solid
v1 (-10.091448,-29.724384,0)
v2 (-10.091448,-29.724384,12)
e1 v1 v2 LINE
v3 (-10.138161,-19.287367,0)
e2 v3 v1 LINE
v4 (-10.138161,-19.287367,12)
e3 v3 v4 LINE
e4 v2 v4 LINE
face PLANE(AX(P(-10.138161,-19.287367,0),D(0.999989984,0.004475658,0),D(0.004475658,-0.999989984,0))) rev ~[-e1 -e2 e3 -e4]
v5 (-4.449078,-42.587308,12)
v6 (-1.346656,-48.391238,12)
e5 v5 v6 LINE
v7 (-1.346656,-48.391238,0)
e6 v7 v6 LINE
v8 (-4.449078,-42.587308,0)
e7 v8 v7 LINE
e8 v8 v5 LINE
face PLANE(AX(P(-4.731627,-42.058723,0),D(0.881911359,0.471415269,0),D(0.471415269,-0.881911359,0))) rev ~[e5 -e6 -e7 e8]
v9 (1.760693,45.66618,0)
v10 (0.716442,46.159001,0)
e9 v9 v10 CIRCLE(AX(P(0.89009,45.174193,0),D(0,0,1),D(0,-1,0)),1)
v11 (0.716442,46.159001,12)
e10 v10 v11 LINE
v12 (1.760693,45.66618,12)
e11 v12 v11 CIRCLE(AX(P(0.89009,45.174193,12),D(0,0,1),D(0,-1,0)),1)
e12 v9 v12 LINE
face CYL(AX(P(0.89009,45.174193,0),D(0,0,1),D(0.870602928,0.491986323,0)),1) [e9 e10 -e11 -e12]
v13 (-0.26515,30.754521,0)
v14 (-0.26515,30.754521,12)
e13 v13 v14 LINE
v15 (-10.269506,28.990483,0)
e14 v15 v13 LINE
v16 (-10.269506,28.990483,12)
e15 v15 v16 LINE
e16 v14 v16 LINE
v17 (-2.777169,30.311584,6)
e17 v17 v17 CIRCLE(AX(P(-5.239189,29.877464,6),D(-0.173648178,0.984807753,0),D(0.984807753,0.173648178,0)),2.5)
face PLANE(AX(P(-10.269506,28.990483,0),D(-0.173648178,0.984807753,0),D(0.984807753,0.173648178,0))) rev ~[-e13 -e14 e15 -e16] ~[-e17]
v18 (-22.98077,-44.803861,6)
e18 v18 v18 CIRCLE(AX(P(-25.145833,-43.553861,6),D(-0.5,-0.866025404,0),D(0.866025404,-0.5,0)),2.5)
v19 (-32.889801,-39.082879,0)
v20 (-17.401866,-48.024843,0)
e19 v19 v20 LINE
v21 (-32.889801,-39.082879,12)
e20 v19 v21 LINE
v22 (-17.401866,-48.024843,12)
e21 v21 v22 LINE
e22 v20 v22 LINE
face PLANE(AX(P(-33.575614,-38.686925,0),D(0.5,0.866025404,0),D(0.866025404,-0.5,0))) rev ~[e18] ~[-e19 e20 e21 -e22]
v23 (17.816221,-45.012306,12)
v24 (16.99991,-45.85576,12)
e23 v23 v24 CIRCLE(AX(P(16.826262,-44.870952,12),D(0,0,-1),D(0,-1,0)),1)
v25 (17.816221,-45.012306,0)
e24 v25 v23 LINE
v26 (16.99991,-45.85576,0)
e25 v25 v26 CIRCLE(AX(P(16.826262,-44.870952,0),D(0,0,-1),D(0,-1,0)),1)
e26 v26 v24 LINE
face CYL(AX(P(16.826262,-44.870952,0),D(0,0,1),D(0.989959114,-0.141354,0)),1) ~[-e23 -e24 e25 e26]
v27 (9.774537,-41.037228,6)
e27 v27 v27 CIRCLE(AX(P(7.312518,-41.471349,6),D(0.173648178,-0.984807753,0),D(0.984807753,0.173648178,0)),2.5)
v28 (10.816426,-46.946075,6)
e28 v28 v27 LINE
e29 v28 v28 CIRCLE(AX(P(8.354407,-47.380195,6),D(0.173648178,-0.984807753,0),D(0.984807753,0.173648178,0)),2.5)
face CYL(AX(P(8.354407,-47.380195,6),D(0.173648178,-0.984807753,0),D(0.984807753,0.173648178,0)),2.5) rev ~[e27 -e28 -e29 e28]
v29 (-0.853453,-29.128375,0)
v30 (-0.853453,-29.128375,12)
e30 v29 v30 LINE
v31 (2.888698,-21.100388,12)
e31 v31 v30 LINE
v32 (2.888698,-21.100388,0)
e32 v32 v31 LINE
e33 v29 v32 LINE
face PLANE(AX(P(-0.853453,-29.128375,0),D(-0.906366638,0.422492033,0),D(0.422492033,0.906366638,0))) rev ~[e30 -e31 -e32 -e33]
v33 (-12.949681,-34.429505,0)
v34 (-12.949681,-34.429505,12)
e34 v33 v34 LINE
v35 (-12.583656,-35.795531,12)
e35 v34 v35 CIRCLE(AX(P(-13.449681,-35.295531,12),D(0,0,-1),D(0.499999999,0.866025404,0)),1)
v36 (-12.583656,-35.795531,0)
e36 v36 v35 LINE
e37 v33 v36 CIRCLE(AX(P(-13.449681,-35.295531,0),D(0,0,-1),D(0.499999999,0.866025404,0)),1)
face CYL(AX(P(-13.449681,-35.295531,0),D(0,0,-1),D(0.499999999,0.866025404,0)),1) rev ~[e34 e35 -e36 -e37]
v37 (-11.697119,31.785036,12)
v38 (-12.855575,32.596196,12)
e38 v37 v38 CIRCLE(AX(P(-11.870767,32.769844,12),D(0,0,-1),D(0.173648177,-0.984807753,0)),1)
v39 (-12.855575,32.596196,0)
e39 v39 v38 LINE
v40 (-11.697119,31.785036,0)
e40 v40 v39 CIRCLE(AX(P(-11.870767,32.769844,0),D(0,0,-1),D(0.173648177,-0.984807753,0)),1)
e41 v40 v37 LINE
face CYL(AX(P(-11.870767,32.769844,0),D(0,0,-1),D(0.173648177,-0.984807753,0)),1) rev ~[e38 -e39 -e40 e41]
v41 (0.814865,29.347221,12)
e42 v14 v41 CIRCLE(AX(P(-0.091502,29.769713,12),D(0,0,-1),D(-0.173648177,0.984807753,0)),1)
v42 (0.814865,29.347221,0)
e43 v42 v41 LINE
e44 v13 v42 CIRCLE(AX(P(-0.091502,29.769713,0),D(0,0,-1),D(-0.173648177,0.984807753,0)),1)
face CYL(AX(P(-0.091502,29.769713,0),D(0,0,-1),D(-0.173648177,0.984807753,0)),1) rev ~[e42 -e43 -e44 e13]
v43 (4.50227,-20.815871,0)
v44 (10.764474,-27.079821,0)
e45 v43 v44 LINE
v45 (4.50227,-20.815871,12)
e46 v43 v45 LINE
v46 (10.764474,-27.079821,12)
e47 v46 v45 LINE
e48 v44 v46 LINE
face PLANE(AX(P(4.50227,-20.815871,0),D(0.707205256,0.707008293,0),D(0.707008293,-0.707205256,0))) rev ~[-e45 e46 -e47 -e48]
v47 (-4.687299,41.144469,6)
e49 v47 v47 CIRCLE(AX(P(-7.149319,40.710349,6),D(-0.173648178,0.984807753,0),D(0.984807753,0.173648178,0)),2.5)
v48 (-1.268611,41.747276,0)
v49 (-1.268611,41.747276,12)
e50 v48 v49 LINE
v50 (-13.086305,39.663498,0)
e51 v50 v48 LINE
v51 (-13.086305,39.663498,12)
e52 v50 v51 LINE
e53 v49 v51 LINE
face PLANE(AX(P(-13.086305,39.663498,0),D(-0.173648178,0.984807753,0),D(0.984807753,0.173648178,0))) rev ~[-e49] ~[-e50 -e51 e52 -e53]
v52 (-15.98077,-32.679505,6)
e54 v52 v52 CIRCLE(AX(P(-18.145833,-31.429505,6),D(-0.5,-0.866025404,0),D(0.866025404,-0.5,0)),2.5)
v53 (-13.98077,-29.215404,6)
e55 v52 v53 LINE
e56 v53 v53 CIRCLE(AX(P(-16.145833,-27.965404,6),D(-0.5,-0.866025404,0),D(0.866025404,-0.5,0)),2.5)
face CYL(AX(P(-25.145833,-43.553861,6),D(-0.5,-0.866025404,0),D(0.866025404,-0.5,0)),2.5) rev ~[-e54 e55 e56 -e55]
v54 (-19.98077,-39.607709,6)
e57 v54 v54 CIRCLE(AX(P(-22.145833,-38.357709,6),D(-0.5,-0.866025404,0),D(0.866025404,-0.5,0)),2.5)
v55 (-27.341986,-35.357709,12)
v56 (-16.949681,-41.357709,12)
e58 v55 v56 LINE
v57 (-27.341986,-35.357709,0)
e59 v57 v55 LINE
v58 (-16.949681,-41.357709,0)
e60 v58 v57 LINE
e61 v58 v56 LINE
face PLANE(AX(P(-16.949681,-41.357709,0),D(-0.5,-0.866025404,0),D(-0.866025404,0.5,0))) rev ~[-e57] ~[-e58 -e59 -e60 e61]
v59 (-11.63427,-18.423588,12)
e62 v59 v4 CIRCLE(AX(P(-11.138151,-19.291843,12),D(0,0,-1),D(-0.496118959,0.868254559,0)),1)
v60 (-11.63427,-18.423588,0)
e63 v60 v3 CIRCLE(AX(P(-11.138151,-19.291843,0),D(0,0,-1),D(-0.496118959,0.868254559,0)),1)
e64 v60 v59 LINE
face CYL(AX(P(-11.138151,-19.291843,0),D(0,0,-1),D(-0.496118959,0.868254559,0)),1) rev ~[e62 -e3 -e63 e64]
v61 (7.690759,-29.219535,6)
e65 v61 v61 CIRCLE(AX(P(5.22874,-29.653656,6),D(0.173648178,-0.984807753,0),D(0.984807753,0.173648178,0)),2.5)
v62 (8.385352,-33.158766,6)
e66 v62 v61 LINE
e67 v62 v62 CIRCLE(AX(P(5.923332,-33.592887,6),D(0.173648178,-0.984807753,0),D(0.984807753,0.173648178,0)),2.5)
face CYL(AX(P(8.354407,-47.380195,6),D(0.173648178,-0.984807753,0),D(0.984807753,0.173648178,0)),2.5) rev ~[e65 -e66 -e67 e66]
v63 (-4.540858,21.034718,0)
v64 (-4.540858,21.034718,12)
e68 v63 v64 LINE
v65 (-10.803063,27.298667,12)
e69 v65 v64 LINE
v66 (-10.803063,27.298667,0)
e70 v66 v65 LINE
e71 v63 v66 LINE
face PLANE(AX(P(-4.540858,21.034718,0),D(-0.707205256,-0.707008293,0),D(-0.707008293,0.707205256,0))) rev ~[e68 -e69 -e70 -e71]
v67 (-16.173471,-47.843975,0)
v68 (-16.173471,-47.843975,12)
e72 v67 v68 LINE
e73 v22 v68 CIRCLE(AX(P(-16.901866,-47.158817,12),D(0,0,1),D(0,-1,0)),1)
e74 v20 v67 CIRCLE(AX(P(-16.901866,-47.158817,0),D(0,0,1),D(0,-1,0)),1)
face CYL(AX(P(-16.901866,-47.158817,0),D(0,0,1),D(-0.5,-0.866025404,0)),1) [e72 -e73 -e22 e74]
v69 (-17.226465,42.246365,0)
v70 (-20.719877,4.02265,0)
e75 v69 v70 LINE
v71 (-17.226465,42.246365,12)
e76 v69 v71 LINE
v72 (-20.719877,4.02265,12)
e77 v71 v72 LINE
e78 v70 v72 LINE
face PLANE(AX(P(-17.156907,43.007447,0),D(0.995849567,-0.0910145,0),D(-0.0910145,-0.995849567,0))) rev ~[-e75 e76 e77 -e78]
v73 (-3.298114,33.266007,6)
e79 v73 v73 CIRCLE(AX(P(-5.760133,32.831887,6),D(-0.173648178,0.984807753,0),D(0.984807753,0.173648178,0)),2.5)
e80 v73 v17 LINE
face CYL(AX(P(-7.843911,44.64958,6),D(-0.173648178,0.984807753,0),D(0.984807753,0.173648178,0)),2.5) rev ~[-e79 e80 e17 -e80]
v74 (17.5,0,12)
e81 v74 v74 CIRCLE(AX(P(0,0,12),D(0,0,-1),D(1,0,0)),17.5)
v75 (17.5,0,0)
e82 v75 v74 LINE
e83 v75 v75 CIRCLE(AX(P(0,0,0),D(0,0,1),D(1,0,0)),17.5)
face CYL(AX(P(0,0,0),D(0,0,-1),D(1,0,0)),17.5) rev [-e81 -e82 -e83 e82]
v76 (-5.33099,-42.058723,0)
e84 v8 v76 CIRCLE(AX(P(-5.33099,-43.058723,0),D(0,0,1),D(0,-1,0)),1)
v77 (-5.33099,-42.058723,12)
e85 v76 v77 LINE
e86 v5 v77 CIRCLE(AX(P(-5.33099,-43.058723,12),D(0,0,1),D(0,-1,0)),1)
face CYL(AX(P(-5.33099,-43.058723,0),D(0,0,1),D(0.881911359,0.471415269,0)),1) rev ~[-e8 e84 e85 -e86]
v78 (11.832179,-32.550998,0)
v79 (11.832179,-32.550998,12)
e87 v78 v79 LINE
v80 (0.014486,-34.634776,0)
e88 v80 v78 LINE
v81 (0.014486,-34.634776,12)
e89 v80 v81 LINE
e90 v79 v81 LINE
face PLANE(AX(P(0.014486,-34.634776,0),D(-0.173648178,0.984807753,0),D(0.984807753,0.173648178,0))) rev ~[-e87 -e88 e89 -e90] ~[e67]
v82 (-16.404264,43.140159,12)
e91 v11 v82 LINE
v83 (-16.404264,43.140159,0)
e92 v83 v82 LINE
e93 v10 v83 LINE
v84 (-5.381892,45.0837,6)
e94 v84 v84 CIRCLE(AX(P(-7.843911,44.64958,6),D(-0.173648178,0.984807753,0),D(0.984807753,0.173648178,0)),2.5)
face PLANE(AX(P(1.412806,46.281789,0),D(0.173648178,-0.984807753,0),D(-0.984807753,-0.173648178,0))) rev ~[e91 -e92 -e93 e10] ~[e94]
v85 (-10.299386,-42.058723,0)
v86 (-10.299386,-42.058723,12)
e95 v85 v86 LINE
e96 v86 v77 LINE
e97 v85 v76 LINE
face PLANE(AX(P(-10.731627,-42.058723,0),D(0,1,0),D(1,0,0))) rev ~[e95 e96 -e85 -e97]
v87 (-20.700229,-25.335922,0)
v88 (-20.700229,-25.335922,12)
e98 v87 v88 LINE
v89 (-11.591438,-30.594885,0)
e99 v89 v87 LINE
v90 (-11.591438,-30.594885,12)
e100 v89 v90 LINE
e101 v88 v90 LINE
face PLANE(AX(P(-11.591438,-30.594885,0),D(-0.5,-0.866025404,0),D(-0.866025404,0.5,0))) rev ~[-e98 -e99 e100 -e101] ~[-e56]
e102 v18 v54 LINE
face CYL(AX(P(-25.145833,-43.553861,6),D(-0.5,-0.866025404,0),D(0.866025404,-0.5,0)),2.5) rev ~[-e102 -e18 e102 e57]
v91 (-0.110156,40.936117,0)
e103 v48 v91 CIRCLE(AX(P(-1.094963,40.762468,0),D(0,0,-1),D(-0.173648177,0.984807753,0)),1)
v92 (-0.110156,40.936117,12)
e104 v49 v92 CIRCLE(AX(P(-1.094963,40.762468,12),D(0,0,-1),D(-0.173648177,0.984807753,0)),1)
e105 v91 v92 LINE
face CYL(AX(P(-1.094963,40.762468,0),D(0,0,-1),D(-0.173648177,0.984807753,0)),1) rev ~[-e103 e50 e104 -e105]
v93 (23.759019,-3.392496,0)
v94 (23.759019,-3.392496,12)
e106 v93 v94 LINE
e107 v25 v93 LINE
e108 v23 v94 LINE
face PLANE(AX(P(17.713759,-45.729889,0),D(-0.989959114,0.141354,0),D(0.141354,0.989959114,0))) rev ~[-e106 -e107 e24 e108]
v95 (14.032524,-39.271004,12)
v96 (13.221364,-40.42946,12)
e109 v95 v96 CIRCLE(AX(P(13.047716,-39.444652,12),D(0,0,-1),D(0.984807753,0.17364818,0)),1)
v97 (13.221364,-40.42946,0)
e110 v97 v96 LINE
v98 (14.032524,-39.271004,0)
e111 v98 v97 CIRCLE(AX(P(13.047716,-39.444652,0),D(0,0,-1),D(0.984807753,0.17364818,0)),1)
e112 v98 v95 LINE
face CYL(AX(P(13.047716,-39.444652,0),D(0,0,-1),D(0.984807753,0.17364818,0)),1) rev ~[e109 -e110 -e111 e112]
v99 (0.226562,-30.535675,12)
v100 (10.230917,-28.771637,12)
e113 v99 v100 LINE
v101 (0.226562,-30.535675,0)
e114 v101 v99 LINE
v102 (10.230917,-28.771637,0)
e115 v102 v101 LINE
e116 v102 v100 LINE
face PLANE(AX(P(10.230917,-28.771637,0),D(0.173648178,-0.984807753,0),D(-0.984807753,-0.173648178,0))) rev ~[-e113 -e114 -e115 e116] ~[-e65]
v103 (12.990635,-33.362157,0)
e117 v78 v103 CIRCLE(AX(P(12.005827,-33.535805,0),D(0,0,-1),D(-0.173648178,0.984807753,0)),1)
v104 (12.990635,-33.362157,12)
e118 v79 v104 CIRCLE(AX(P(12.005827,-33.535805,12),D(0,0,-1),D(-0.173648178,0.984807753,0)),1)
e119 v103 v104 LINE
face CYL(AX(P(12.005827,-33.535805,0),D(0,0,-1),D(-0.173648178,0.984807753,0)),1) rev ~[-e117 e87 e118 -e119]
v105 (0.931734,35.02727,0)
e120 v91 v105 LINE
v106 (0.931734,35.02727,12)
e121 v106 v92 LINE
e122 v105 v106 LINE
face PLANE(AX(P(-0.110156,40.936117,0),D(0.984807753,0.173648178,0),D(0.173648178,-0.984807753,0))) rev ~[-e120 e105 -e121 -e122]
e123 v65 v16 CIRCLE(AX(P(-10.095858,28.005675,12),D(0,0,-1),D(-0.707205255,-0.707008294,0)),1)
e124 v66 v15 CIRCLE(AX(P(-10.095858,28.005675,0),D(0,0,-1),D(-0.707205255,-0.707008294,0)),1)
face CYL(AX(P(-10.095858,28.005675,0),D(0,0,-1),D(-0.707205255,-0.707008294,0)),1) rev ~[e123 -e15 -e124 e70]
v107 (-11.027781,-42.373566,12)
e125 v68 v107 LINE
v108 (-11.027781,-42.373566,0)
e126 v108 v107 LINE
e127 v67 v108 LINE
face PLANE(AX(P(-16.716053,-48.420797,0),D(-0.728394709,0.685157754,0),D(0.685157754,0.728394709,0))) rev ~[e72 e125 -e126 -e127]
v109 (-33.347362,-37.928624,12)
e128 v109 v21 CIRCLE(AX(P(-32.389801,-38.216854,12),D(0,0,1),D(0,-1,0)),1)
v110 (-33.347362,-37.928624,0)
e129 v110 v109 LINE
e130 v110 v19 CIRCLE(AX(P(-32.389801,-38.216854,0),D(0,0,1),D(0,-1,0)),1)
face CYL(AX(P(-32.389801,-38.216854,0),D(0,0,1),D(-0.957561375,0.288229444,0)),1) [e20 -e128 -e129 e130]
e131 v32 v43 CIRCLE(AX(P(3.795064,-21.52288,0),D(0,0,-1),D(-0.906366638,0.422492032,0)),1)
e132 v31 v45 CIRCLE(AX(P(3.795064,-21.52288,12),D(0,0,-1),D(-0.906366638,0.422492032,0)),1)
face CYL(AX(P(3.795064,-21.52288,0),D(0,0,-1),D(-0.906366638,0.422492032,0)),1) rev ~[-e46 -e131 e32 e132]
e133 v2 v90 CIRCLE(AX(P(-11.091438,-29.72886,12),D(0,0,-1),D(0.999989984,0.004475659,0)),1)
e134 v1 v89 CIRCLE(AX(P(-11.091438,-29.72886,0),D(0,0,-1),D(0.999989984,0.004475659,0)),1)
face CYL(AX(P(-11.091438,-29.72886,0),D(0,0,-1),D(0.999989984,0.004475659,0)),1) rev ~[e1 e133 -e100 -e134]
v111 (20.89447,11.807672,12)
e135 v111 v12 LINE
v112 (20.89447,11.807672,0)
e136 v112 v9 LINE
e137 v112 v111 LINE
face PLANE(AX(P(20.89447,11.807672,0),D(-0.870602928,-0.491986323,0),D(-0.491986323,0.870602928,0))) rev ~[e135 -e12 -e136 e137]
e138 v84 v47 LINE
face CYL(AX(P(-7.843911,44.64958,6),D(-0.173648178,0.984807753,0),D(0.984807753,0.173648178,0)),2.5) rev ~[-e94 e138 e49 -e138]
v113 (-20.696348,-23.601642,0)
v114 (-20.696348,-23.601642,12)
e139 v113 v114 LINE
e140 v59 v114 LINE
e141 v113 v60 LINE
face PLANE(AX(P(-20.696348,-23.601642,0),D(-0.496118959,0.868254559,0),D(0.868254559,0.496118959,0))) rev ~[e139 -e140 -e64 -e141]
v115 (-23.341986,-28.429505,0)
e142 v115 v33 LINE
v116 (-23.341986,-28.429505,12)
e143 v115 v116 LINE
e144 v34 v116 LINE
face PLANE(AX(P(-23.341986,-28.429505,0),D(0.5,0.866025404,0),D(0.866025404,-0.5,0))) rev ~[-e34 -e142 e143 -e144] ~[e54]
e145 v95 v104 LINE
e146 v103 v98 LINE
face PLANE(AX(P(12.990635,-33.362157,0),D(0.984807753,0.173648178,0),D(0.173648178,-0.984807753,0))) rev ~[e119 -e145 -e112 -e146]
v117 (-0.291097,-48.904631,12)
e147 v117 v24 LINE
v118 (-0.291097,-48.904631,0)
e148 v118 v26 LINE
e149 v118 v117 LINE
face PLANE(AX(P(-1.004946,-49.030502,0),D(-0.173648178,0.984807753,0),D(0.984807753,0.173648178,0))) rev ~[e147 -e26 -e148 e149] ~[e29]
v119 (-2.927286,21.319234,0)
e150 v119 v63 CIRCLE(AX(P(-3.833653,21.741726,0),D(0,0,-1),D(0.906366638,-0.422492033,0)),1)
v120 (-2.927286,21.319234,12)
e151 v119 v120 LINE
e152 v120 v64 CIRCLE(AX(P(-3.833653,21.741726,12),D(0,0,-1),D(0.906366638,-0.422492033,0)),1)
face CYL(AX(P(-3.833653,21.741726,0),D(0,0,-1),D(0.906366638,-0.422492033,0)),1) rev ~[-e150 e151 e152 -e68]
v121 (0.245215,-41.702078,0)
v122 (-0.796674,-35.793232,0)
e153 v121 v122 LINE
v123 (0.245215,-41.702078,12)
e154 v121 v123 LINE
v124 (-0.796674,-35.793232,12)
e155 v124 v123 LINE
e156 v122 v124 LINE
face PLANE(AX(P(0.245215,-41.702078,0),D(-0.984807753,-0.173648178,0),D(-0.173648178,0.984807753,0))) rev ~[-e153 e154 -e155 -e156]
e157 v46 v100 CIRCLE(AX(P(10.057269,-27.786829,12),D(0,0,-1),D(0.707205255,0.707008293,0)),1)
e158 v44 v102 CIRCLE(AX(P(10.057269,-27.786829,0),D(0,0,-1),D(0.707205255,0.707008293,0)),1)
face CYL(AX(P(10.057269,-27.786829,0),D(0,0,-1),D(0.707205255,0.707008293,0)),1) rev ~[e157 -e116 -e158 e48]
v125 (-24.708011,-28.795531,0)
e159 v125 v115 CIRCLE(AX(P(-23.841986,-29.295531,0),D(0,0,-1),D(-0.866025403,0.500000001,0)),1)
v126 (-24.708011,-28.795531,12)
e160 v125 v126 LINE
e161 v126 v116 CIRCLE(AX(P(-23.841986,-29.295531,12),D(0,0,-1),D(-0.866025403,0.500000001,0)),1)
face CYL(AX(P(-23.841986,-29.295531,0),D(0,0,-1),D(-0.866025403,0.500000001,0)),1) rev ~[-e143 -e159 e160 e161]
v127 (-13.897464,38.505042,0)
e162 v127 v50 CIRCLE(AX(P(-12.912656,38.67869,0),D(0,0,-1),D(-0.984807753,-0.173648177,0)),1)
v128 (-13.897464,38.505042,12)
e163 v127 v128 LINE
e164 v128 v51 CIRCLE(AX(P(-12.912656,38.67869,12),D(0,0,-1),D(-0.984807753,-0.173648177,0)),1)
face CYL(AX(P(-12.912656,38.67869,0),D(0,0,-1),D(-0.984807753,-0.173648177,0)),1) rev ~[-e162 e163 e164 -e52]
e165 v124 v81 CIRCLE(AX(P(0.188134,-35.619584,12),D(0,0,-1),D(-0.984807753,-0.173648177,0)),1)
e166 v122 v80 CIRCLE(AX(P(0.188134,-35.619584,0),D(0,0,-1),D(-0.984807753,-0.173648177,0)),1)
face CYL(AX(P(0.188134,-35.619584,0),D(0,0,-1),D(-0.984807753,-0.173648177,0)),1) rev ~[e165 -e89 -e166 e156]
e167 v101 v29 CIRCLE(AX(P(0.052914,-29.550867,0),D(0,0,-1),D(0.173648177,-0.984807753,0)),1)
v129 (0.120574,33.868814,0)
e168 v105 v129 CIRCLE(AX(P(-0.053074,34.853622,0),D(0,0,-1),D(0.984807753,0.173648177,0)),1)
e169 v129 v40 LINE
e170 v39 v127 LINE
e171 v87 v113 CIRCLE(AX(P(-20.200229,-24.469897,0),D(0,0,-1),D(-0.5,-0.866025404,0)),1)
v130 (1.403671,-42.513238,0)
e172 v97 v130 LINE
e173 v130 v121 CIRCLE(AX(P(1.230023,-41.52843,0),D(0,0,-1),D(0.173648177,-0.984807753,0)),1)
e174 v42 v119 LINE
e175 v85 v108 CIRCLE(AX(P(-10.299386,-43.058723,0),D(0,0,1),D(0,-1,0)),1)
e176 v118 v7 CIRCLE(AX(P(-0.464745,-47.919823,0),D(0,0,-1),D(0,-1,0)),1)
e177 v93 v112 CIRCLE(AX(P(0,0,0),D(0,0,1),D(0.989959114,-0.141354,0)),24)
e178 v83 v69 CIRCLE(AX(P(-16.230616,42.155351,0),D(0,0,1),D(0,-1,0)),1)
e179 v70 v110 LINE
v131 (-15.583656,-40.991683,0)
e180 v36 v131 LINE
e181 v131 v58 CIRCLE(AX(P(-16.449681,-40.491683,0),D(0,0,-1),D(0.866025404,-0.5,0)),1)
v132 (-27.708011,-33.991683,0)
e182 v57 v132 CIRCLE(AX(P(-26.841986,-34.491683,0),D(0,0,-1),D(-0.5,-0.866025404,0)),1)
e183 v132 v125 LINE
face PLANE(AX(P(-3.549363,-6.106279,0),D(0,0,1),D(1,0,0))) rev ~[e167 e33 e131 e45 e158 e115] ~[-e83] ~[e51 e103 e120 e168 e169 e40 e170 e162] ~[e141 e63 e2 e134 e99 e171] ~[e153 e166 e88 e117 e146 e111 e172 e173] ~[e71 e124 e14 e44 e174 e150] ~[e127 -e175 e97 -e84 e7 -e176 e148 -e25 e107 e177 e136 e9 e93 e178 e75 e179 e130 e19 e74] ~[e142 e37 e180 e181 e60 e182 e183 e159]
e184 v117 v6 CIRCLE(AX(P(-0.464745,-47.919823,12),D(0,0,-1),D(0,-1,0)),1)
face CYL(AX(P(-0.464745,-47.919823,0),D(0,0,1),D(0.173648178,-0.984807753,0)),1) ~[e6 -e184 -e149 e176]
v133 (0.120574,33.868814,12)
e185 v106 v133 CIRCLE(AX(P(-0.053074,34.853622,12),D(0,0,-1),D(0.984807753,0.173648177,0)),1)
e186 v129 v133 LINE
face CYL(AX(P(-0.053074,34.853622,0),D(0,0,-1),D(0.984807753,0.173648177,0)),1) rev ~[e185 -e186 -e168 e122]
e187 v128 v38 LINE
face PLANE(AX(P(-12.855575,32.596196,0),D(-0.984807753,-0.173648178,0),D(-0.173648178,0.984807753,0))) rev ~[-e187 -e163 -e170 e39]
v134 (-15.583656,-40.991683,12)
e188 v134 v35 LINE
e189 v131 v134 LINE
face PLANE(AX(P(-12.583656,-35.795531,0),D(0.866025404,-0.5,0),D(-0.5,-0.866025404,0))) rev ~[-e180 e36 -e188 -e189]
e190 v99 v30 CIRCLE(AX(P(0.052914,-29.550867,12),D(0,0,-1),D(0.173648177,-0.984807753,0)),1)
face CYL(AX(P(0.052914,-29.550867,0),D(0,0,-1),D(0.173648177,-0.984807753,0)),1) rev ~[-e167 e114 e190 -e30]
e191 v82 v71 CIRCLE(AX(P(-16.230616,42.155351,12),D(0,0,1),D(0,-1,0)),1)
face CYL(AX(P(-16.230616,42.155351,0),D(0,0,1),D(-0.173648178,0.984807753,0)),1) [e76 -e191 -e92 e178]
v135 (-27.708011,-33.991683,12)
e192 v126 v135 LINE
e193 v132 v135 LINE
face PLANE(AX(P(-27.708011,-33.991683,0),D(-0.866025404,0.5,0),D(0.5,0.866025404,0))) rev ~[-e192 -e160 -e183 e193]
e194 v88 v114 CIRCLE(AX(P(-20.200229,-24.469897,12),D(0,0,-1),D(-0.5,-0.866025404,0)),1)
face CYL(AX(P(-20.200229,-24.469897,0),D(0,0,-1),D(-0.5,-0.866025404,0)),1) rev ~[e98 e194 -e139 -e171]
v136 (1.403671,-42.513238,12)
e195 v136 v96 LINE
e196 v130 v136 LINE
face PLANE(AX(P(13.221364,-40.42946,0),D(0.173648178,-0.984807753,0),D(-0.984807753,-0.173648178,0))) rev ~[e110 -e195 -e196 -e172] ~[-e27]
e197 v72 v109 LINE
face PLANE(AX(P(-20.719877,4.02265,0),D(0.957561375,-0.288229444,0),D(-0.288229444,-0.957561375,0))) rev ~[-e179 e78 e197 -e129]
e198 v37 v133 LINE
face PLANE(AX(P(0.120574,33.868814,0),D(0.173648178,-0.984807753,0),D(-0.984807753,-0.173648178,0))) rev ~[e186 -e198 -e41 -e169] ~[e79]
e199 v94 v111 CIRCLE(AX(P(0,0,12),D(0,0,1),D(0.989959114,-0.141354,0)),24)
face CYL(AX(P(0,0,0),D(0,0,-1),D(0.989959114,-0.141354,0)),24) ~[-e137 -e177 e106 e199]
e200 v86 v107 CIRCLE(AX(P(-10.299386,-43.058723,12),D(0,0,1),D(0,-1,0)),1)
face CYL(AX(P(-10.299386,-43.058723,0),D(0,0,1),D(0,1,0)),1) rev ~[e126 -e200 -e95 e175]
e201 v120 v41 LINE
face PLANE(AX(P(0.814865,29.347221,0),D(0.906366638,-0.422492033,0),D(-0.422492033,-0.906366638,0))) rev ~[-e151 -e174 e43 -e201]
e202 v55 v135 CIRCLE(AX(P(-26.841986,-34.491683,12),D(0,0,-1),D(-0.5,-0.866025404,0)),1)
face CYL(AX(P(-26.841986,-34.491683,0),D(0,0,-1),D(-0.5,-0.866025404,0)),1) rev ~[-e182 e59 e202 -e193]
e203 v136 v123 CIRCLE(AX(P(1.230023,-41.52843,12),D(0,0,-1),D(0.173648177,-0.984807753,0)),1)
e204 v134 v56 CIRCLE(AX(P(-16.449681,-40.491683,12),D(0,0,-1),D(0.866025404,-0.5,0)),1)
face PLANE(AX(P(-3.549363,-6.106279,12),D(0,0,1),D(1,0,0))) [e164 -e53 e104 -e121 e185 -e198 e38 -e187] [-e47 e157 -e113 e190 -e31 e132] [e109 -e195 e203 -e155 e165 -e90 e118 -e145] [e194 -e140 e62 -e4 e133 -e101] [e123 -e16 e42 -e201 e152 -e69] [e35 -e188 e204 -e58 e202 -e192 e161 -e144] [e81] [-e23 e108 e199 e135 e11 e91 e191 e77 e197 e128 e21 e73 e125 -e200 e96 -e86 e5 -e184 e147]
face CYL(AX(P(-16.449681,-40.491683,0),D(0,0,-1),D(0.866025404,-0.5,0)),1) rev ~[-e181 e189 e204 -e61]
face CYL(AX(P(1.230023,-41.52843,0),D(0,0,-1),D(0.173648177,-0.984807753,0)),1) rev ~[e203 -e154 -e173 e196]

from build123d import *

# Parameters (mm, degrees)
BOSS_EXTRUDE1_DEPTH = 12
SKETCH2_5_R         = 17.5
CUT_EXTRUDE1_DEPTH  = 61.62435091
CUT_EXTRUDE2_DEPTH  = 61.62435091
FILLET2_R           = 1
SKETCH5_R           = 2.5
CUT_EXTRUDE3_DEPTH  = 20
SKETCH6_R           = 2.5
CUT_EXTRUDE4_DEPTH  = 20
SKETCH7_R           = 2.5
CUT_EXTRUDE5_DEPTH  = 20


with BuildPart() as part:
    # Sketch2 → Boss-Extrude1 (new body)
    with BuildSketch(Plane.XY):
        with BuildLine():
            Line((20.894470269, 11.807671751), (1.412805817, 46.281788856))
            Line((1.412805817, 46.281788856), (-17.156907259, 43.007447417))
            Line((-17.156907259, 43.007447417), (-20.719877005, 4.022649671))
            Line((-20.719877005, 4.022649671), (-33.575613753, -38.686924938))
            Line((-33.575613753, -38.686924938), (-16.716052914, -48.420796926))
            Line((-16.716052914, -48.420796926), (-10.73162709, -42.058723264))
            Line((-10.73162709, -42.058723264), (-4.73162709, -42.058723264))
            Line((-4.73162709, -42.058723264), (-1.004945592, -49.030501572))
            Line((-1.004945592, -49.030501572), (17.713759132, -45.729888885))
            Line((17.713759132, -45.729888885), (23.759018728, -3.392495999))
            ThreePointArc((23.759018728, -3.392495999), (23.58484248, 4.444682801), (20.894470269, 11.807671751))
        make_face()
    extrude(amount=BOSS_EXTRUDE1_DEPTH)

    # Sketch2<5> → Cut-Extrude1 (cut, through all)
    with BuildSketch(Plane.XY):
        Circle(SKETCH2_5_R)
    extrude(amount=CUT_EXTRUDE1_DEPTH, mode=Mode.SUBTRACT)

    # Sketch4 → Cut-Extrude2 (cut, through all)
    with BuildSketch(Plane(origin=(0, 0, 0), x_dir=(-1, 0, 0), z_dir=(0, 0, -1))):
        with BuildLine():
            Line((16.949680911, -41.357708509), (27.341985756, -35.357708509))
            ThreePointArc((27.341985756, -35.357708509), (27.807911582, -34.750502151), (27.70801116, -33.991683106))
            Line((27.70801116, -33.991683106), (24.70801116, -28.795530683))
            ThreePointArc((24.70801116, -28.795530683), (24.100804801, -28.329604857), (23.341985756, -28.429505279))
            Line((23.341985756, -28.429505279), (12.949680911, -34.429505279))
            ThreePointArc((12.949680911, -34.429505279), (12.483755084, -35.036711638), (12.583655507, -35.795530683))
            Line((12.583655507, -35.795530683), (15.583655507, -40.991683106))
            ThreePointArc((15.583655507, -40.991683106), (16.190861866, -41.457608932), (16.949680911, -41.357708509))
        make_face()
        with BuildLine():
            Line((11.591437777, -30.594885164), (20.70022889, -25.335922163))
            ThreePointArc((20.70022889, -25.335922163), (21.200226386, -24.467658925), (20.696347848, -23.601642201))
            Line((20.696347848, -23.601642201), (11.63426972, -18.423588462))
            ThreePointArc((11.63426972, -18.423588462), (10.638150761, -18.425817617), (10.138160777, -19.287367363))
            Line((10.138160777, -19.287367363), (10.091447793, -29.724384103))
            ThreePointArc((10.091447793, -29.724384103), (10.589501007, -30.593764079), (11.591437777, -30.594885164))
        make_face()
        with BuildLine():
            Line((-13.221364222, -40.429459644), (-1.403671186, -42.513237776))
            ThreePointArc((-1.403671186, -42.513237776), (-0.656446572, -42.347582067), (-0.245215255, -41.702078201))
            Line((-0.245215255, -41.702078201), (0.796673811, -35.793231683))
            ThreePointArc((0.796673811, -35.793231683), (0.631018102, -35.046007069), (-0.014485765, -34.634775752))
            Line((-0.014485765, -34.634775752), (-11.832178801, -32.55099762))
            ThreePointArc((-11.832178801, -32.55099762), (-12.579403415, -32.716653329), (-12.990634731, -33.362157195))
            Line((-12.990634731, -33.362157195), (-14.032523797, -39.271003713))
            ThreePointArc((-14.032523797, -39.271003713), (-13.866868089, -40.018228328), (-13.221364222, -40.429459644))
        make_face()
        with BuildLine():
            ThreePointArc((-10.764474433, -27.079820723), (-11.010965186, -28.087601228), (-10.230917355, -28.771636769))
            Line((-10.230917355, -28.771636769), (-0.226561789, -30.53567458))
            ThreePointArc((-0.226561789, -30.53567458), (0.740397335, -30.159683501), (0.853453027, -29.128374794))
            Line((0.853453027, -29.128374794), (-2.888697749, -21.100387627))
            ThreePointArc((-2.888697749, -21.100387627), (-3.621416209, -20.538071906), (-4.502269642, -20.815871366))
            Line((-4.502269642, -20.815871366), (-10.764474433, -27.079820723))
        make_face()
        with BuildLine():
            Line((-0.120573929, 33.868814166), (11.697119107, 31.785036034))
            ThreePointArc((11.697119107, 31.785036034), (12.444343721, 31.950691743), (12.855575038, 32.59619561))
            Line((12.855575038, 32.59619561), (13.897464104, 38.505042128))
            ThreePointArc((13.897464104, 38.505042128), (13.731808395, 39.252266742), (13.086304528, 39.663498059))
            Line((13.086304528, 39.663498059), (1.268611492, 41.747276191))
            ThreePointArc((1.268611492, 41.747276191), (0.521386878, 41.581620482), (0.110155561, 40.936116615))
            Line((0.110155561, 40.936116615), (-0.931733505, 35.027270097))
            ThreePointArc((-0.931733505, 35.027270097), (-0.766077796, 34.280045483), (-0.120573929, 33.868814166))
        make_face()
        with BuildLine():
            ThreePointArc((0.265150273, 30.754520747), (-0.701808851, 30.378529668), (-0.814864543, 29.347220961))
            Line((-0.814864543, 29.347220961), (2.927286233, 21.319233794))
            ThreePointArc((2.927286233, 21.319233794), (3.660004693, 20.756918074), (4.540858126, 21.034717534))
            Line((4.540858126, 21.034717534), (10.803062917, 27.29866689))
            ThreePointArc((10.803062917, 27.29866689), (11.04955367, 28.306447396), (10.269505839, 28.990482936))
            Line((10.269505839, 28.990482936), (0.265150273, 30.754520747))
        make_face()
    extrude(amount=-CUT_EXTRUDE2_DEPTH, mode=Mode.SUBTRACT)

    # Fillet2
    fillet2_edges = [part.edges().sort_by_distance(p)[0] for p in [
        (17.713759132, -45.729888885, 6),
        (-1.004945592, -49.030501572, 6),
        (-10.73162709, -42.058723264, 6),
        (-4.73162709, -42.058723264, 6),
        (-16.716052914, -48.420796926, 6),
        (-33.575613753, -38.686924938, 6),
        (-17.156907259, 43.007447417, 6),
        (1.412805817, 46.281788856, 6),
    ]]
    fillet(fillet2_edges, radius=FILLET2_R)

    # Sketch5 → Cut-Extrude3 (cut)
    with BuildSketch(Plane(origin=(8.35440677, -47.380195228, 0), x_dir=(0.9848077530122075, 0.17364817766693383, 0), z_dir=(0.17364817766693386, -0.9848077530122076, 0))):
        with Locations((0, 6)):
            Circle(SKETCH5_R)
    extrude(amount=-CUT_EXTRUDE3_DEPTH, mode=Mode.SUBTRACT)

    # Sketch6 → Cut-Extrude4 (cut)
    with BuildSketch(Plane(origin=(-25.145833333, -43.553860932, 0), x_dir=(0.86602540378444, -0.4999999999999975, 0), z_dir=(-0.4999999999999975, -0.86602540378444, 0))):
        with Locations((0, 6)):
            Circle(SKETCH6_R)
    extrude(amount=-CUT_EXTRUDE4_DEPTH, mode=Mode.SUBTRACT)

    # Sketch7 → Cut-Extrude5 (cut)
    with BuildSketch(Plane(origin=(-7.872050721, 44.644618137, 0), x_dir=(0.9848077530122087, 0.17364817766692725, 0), z_dir=(-0.17364817766692725, 0.9848077530122087, 0))):
        with Locations((0.028573577, -6)):
            Circle(SKETCH7_R)
    extrude(amount=-CUT_EXTRUDE5_DEPTH, mode=Mode.SUBTRACT)


solid = part.part
